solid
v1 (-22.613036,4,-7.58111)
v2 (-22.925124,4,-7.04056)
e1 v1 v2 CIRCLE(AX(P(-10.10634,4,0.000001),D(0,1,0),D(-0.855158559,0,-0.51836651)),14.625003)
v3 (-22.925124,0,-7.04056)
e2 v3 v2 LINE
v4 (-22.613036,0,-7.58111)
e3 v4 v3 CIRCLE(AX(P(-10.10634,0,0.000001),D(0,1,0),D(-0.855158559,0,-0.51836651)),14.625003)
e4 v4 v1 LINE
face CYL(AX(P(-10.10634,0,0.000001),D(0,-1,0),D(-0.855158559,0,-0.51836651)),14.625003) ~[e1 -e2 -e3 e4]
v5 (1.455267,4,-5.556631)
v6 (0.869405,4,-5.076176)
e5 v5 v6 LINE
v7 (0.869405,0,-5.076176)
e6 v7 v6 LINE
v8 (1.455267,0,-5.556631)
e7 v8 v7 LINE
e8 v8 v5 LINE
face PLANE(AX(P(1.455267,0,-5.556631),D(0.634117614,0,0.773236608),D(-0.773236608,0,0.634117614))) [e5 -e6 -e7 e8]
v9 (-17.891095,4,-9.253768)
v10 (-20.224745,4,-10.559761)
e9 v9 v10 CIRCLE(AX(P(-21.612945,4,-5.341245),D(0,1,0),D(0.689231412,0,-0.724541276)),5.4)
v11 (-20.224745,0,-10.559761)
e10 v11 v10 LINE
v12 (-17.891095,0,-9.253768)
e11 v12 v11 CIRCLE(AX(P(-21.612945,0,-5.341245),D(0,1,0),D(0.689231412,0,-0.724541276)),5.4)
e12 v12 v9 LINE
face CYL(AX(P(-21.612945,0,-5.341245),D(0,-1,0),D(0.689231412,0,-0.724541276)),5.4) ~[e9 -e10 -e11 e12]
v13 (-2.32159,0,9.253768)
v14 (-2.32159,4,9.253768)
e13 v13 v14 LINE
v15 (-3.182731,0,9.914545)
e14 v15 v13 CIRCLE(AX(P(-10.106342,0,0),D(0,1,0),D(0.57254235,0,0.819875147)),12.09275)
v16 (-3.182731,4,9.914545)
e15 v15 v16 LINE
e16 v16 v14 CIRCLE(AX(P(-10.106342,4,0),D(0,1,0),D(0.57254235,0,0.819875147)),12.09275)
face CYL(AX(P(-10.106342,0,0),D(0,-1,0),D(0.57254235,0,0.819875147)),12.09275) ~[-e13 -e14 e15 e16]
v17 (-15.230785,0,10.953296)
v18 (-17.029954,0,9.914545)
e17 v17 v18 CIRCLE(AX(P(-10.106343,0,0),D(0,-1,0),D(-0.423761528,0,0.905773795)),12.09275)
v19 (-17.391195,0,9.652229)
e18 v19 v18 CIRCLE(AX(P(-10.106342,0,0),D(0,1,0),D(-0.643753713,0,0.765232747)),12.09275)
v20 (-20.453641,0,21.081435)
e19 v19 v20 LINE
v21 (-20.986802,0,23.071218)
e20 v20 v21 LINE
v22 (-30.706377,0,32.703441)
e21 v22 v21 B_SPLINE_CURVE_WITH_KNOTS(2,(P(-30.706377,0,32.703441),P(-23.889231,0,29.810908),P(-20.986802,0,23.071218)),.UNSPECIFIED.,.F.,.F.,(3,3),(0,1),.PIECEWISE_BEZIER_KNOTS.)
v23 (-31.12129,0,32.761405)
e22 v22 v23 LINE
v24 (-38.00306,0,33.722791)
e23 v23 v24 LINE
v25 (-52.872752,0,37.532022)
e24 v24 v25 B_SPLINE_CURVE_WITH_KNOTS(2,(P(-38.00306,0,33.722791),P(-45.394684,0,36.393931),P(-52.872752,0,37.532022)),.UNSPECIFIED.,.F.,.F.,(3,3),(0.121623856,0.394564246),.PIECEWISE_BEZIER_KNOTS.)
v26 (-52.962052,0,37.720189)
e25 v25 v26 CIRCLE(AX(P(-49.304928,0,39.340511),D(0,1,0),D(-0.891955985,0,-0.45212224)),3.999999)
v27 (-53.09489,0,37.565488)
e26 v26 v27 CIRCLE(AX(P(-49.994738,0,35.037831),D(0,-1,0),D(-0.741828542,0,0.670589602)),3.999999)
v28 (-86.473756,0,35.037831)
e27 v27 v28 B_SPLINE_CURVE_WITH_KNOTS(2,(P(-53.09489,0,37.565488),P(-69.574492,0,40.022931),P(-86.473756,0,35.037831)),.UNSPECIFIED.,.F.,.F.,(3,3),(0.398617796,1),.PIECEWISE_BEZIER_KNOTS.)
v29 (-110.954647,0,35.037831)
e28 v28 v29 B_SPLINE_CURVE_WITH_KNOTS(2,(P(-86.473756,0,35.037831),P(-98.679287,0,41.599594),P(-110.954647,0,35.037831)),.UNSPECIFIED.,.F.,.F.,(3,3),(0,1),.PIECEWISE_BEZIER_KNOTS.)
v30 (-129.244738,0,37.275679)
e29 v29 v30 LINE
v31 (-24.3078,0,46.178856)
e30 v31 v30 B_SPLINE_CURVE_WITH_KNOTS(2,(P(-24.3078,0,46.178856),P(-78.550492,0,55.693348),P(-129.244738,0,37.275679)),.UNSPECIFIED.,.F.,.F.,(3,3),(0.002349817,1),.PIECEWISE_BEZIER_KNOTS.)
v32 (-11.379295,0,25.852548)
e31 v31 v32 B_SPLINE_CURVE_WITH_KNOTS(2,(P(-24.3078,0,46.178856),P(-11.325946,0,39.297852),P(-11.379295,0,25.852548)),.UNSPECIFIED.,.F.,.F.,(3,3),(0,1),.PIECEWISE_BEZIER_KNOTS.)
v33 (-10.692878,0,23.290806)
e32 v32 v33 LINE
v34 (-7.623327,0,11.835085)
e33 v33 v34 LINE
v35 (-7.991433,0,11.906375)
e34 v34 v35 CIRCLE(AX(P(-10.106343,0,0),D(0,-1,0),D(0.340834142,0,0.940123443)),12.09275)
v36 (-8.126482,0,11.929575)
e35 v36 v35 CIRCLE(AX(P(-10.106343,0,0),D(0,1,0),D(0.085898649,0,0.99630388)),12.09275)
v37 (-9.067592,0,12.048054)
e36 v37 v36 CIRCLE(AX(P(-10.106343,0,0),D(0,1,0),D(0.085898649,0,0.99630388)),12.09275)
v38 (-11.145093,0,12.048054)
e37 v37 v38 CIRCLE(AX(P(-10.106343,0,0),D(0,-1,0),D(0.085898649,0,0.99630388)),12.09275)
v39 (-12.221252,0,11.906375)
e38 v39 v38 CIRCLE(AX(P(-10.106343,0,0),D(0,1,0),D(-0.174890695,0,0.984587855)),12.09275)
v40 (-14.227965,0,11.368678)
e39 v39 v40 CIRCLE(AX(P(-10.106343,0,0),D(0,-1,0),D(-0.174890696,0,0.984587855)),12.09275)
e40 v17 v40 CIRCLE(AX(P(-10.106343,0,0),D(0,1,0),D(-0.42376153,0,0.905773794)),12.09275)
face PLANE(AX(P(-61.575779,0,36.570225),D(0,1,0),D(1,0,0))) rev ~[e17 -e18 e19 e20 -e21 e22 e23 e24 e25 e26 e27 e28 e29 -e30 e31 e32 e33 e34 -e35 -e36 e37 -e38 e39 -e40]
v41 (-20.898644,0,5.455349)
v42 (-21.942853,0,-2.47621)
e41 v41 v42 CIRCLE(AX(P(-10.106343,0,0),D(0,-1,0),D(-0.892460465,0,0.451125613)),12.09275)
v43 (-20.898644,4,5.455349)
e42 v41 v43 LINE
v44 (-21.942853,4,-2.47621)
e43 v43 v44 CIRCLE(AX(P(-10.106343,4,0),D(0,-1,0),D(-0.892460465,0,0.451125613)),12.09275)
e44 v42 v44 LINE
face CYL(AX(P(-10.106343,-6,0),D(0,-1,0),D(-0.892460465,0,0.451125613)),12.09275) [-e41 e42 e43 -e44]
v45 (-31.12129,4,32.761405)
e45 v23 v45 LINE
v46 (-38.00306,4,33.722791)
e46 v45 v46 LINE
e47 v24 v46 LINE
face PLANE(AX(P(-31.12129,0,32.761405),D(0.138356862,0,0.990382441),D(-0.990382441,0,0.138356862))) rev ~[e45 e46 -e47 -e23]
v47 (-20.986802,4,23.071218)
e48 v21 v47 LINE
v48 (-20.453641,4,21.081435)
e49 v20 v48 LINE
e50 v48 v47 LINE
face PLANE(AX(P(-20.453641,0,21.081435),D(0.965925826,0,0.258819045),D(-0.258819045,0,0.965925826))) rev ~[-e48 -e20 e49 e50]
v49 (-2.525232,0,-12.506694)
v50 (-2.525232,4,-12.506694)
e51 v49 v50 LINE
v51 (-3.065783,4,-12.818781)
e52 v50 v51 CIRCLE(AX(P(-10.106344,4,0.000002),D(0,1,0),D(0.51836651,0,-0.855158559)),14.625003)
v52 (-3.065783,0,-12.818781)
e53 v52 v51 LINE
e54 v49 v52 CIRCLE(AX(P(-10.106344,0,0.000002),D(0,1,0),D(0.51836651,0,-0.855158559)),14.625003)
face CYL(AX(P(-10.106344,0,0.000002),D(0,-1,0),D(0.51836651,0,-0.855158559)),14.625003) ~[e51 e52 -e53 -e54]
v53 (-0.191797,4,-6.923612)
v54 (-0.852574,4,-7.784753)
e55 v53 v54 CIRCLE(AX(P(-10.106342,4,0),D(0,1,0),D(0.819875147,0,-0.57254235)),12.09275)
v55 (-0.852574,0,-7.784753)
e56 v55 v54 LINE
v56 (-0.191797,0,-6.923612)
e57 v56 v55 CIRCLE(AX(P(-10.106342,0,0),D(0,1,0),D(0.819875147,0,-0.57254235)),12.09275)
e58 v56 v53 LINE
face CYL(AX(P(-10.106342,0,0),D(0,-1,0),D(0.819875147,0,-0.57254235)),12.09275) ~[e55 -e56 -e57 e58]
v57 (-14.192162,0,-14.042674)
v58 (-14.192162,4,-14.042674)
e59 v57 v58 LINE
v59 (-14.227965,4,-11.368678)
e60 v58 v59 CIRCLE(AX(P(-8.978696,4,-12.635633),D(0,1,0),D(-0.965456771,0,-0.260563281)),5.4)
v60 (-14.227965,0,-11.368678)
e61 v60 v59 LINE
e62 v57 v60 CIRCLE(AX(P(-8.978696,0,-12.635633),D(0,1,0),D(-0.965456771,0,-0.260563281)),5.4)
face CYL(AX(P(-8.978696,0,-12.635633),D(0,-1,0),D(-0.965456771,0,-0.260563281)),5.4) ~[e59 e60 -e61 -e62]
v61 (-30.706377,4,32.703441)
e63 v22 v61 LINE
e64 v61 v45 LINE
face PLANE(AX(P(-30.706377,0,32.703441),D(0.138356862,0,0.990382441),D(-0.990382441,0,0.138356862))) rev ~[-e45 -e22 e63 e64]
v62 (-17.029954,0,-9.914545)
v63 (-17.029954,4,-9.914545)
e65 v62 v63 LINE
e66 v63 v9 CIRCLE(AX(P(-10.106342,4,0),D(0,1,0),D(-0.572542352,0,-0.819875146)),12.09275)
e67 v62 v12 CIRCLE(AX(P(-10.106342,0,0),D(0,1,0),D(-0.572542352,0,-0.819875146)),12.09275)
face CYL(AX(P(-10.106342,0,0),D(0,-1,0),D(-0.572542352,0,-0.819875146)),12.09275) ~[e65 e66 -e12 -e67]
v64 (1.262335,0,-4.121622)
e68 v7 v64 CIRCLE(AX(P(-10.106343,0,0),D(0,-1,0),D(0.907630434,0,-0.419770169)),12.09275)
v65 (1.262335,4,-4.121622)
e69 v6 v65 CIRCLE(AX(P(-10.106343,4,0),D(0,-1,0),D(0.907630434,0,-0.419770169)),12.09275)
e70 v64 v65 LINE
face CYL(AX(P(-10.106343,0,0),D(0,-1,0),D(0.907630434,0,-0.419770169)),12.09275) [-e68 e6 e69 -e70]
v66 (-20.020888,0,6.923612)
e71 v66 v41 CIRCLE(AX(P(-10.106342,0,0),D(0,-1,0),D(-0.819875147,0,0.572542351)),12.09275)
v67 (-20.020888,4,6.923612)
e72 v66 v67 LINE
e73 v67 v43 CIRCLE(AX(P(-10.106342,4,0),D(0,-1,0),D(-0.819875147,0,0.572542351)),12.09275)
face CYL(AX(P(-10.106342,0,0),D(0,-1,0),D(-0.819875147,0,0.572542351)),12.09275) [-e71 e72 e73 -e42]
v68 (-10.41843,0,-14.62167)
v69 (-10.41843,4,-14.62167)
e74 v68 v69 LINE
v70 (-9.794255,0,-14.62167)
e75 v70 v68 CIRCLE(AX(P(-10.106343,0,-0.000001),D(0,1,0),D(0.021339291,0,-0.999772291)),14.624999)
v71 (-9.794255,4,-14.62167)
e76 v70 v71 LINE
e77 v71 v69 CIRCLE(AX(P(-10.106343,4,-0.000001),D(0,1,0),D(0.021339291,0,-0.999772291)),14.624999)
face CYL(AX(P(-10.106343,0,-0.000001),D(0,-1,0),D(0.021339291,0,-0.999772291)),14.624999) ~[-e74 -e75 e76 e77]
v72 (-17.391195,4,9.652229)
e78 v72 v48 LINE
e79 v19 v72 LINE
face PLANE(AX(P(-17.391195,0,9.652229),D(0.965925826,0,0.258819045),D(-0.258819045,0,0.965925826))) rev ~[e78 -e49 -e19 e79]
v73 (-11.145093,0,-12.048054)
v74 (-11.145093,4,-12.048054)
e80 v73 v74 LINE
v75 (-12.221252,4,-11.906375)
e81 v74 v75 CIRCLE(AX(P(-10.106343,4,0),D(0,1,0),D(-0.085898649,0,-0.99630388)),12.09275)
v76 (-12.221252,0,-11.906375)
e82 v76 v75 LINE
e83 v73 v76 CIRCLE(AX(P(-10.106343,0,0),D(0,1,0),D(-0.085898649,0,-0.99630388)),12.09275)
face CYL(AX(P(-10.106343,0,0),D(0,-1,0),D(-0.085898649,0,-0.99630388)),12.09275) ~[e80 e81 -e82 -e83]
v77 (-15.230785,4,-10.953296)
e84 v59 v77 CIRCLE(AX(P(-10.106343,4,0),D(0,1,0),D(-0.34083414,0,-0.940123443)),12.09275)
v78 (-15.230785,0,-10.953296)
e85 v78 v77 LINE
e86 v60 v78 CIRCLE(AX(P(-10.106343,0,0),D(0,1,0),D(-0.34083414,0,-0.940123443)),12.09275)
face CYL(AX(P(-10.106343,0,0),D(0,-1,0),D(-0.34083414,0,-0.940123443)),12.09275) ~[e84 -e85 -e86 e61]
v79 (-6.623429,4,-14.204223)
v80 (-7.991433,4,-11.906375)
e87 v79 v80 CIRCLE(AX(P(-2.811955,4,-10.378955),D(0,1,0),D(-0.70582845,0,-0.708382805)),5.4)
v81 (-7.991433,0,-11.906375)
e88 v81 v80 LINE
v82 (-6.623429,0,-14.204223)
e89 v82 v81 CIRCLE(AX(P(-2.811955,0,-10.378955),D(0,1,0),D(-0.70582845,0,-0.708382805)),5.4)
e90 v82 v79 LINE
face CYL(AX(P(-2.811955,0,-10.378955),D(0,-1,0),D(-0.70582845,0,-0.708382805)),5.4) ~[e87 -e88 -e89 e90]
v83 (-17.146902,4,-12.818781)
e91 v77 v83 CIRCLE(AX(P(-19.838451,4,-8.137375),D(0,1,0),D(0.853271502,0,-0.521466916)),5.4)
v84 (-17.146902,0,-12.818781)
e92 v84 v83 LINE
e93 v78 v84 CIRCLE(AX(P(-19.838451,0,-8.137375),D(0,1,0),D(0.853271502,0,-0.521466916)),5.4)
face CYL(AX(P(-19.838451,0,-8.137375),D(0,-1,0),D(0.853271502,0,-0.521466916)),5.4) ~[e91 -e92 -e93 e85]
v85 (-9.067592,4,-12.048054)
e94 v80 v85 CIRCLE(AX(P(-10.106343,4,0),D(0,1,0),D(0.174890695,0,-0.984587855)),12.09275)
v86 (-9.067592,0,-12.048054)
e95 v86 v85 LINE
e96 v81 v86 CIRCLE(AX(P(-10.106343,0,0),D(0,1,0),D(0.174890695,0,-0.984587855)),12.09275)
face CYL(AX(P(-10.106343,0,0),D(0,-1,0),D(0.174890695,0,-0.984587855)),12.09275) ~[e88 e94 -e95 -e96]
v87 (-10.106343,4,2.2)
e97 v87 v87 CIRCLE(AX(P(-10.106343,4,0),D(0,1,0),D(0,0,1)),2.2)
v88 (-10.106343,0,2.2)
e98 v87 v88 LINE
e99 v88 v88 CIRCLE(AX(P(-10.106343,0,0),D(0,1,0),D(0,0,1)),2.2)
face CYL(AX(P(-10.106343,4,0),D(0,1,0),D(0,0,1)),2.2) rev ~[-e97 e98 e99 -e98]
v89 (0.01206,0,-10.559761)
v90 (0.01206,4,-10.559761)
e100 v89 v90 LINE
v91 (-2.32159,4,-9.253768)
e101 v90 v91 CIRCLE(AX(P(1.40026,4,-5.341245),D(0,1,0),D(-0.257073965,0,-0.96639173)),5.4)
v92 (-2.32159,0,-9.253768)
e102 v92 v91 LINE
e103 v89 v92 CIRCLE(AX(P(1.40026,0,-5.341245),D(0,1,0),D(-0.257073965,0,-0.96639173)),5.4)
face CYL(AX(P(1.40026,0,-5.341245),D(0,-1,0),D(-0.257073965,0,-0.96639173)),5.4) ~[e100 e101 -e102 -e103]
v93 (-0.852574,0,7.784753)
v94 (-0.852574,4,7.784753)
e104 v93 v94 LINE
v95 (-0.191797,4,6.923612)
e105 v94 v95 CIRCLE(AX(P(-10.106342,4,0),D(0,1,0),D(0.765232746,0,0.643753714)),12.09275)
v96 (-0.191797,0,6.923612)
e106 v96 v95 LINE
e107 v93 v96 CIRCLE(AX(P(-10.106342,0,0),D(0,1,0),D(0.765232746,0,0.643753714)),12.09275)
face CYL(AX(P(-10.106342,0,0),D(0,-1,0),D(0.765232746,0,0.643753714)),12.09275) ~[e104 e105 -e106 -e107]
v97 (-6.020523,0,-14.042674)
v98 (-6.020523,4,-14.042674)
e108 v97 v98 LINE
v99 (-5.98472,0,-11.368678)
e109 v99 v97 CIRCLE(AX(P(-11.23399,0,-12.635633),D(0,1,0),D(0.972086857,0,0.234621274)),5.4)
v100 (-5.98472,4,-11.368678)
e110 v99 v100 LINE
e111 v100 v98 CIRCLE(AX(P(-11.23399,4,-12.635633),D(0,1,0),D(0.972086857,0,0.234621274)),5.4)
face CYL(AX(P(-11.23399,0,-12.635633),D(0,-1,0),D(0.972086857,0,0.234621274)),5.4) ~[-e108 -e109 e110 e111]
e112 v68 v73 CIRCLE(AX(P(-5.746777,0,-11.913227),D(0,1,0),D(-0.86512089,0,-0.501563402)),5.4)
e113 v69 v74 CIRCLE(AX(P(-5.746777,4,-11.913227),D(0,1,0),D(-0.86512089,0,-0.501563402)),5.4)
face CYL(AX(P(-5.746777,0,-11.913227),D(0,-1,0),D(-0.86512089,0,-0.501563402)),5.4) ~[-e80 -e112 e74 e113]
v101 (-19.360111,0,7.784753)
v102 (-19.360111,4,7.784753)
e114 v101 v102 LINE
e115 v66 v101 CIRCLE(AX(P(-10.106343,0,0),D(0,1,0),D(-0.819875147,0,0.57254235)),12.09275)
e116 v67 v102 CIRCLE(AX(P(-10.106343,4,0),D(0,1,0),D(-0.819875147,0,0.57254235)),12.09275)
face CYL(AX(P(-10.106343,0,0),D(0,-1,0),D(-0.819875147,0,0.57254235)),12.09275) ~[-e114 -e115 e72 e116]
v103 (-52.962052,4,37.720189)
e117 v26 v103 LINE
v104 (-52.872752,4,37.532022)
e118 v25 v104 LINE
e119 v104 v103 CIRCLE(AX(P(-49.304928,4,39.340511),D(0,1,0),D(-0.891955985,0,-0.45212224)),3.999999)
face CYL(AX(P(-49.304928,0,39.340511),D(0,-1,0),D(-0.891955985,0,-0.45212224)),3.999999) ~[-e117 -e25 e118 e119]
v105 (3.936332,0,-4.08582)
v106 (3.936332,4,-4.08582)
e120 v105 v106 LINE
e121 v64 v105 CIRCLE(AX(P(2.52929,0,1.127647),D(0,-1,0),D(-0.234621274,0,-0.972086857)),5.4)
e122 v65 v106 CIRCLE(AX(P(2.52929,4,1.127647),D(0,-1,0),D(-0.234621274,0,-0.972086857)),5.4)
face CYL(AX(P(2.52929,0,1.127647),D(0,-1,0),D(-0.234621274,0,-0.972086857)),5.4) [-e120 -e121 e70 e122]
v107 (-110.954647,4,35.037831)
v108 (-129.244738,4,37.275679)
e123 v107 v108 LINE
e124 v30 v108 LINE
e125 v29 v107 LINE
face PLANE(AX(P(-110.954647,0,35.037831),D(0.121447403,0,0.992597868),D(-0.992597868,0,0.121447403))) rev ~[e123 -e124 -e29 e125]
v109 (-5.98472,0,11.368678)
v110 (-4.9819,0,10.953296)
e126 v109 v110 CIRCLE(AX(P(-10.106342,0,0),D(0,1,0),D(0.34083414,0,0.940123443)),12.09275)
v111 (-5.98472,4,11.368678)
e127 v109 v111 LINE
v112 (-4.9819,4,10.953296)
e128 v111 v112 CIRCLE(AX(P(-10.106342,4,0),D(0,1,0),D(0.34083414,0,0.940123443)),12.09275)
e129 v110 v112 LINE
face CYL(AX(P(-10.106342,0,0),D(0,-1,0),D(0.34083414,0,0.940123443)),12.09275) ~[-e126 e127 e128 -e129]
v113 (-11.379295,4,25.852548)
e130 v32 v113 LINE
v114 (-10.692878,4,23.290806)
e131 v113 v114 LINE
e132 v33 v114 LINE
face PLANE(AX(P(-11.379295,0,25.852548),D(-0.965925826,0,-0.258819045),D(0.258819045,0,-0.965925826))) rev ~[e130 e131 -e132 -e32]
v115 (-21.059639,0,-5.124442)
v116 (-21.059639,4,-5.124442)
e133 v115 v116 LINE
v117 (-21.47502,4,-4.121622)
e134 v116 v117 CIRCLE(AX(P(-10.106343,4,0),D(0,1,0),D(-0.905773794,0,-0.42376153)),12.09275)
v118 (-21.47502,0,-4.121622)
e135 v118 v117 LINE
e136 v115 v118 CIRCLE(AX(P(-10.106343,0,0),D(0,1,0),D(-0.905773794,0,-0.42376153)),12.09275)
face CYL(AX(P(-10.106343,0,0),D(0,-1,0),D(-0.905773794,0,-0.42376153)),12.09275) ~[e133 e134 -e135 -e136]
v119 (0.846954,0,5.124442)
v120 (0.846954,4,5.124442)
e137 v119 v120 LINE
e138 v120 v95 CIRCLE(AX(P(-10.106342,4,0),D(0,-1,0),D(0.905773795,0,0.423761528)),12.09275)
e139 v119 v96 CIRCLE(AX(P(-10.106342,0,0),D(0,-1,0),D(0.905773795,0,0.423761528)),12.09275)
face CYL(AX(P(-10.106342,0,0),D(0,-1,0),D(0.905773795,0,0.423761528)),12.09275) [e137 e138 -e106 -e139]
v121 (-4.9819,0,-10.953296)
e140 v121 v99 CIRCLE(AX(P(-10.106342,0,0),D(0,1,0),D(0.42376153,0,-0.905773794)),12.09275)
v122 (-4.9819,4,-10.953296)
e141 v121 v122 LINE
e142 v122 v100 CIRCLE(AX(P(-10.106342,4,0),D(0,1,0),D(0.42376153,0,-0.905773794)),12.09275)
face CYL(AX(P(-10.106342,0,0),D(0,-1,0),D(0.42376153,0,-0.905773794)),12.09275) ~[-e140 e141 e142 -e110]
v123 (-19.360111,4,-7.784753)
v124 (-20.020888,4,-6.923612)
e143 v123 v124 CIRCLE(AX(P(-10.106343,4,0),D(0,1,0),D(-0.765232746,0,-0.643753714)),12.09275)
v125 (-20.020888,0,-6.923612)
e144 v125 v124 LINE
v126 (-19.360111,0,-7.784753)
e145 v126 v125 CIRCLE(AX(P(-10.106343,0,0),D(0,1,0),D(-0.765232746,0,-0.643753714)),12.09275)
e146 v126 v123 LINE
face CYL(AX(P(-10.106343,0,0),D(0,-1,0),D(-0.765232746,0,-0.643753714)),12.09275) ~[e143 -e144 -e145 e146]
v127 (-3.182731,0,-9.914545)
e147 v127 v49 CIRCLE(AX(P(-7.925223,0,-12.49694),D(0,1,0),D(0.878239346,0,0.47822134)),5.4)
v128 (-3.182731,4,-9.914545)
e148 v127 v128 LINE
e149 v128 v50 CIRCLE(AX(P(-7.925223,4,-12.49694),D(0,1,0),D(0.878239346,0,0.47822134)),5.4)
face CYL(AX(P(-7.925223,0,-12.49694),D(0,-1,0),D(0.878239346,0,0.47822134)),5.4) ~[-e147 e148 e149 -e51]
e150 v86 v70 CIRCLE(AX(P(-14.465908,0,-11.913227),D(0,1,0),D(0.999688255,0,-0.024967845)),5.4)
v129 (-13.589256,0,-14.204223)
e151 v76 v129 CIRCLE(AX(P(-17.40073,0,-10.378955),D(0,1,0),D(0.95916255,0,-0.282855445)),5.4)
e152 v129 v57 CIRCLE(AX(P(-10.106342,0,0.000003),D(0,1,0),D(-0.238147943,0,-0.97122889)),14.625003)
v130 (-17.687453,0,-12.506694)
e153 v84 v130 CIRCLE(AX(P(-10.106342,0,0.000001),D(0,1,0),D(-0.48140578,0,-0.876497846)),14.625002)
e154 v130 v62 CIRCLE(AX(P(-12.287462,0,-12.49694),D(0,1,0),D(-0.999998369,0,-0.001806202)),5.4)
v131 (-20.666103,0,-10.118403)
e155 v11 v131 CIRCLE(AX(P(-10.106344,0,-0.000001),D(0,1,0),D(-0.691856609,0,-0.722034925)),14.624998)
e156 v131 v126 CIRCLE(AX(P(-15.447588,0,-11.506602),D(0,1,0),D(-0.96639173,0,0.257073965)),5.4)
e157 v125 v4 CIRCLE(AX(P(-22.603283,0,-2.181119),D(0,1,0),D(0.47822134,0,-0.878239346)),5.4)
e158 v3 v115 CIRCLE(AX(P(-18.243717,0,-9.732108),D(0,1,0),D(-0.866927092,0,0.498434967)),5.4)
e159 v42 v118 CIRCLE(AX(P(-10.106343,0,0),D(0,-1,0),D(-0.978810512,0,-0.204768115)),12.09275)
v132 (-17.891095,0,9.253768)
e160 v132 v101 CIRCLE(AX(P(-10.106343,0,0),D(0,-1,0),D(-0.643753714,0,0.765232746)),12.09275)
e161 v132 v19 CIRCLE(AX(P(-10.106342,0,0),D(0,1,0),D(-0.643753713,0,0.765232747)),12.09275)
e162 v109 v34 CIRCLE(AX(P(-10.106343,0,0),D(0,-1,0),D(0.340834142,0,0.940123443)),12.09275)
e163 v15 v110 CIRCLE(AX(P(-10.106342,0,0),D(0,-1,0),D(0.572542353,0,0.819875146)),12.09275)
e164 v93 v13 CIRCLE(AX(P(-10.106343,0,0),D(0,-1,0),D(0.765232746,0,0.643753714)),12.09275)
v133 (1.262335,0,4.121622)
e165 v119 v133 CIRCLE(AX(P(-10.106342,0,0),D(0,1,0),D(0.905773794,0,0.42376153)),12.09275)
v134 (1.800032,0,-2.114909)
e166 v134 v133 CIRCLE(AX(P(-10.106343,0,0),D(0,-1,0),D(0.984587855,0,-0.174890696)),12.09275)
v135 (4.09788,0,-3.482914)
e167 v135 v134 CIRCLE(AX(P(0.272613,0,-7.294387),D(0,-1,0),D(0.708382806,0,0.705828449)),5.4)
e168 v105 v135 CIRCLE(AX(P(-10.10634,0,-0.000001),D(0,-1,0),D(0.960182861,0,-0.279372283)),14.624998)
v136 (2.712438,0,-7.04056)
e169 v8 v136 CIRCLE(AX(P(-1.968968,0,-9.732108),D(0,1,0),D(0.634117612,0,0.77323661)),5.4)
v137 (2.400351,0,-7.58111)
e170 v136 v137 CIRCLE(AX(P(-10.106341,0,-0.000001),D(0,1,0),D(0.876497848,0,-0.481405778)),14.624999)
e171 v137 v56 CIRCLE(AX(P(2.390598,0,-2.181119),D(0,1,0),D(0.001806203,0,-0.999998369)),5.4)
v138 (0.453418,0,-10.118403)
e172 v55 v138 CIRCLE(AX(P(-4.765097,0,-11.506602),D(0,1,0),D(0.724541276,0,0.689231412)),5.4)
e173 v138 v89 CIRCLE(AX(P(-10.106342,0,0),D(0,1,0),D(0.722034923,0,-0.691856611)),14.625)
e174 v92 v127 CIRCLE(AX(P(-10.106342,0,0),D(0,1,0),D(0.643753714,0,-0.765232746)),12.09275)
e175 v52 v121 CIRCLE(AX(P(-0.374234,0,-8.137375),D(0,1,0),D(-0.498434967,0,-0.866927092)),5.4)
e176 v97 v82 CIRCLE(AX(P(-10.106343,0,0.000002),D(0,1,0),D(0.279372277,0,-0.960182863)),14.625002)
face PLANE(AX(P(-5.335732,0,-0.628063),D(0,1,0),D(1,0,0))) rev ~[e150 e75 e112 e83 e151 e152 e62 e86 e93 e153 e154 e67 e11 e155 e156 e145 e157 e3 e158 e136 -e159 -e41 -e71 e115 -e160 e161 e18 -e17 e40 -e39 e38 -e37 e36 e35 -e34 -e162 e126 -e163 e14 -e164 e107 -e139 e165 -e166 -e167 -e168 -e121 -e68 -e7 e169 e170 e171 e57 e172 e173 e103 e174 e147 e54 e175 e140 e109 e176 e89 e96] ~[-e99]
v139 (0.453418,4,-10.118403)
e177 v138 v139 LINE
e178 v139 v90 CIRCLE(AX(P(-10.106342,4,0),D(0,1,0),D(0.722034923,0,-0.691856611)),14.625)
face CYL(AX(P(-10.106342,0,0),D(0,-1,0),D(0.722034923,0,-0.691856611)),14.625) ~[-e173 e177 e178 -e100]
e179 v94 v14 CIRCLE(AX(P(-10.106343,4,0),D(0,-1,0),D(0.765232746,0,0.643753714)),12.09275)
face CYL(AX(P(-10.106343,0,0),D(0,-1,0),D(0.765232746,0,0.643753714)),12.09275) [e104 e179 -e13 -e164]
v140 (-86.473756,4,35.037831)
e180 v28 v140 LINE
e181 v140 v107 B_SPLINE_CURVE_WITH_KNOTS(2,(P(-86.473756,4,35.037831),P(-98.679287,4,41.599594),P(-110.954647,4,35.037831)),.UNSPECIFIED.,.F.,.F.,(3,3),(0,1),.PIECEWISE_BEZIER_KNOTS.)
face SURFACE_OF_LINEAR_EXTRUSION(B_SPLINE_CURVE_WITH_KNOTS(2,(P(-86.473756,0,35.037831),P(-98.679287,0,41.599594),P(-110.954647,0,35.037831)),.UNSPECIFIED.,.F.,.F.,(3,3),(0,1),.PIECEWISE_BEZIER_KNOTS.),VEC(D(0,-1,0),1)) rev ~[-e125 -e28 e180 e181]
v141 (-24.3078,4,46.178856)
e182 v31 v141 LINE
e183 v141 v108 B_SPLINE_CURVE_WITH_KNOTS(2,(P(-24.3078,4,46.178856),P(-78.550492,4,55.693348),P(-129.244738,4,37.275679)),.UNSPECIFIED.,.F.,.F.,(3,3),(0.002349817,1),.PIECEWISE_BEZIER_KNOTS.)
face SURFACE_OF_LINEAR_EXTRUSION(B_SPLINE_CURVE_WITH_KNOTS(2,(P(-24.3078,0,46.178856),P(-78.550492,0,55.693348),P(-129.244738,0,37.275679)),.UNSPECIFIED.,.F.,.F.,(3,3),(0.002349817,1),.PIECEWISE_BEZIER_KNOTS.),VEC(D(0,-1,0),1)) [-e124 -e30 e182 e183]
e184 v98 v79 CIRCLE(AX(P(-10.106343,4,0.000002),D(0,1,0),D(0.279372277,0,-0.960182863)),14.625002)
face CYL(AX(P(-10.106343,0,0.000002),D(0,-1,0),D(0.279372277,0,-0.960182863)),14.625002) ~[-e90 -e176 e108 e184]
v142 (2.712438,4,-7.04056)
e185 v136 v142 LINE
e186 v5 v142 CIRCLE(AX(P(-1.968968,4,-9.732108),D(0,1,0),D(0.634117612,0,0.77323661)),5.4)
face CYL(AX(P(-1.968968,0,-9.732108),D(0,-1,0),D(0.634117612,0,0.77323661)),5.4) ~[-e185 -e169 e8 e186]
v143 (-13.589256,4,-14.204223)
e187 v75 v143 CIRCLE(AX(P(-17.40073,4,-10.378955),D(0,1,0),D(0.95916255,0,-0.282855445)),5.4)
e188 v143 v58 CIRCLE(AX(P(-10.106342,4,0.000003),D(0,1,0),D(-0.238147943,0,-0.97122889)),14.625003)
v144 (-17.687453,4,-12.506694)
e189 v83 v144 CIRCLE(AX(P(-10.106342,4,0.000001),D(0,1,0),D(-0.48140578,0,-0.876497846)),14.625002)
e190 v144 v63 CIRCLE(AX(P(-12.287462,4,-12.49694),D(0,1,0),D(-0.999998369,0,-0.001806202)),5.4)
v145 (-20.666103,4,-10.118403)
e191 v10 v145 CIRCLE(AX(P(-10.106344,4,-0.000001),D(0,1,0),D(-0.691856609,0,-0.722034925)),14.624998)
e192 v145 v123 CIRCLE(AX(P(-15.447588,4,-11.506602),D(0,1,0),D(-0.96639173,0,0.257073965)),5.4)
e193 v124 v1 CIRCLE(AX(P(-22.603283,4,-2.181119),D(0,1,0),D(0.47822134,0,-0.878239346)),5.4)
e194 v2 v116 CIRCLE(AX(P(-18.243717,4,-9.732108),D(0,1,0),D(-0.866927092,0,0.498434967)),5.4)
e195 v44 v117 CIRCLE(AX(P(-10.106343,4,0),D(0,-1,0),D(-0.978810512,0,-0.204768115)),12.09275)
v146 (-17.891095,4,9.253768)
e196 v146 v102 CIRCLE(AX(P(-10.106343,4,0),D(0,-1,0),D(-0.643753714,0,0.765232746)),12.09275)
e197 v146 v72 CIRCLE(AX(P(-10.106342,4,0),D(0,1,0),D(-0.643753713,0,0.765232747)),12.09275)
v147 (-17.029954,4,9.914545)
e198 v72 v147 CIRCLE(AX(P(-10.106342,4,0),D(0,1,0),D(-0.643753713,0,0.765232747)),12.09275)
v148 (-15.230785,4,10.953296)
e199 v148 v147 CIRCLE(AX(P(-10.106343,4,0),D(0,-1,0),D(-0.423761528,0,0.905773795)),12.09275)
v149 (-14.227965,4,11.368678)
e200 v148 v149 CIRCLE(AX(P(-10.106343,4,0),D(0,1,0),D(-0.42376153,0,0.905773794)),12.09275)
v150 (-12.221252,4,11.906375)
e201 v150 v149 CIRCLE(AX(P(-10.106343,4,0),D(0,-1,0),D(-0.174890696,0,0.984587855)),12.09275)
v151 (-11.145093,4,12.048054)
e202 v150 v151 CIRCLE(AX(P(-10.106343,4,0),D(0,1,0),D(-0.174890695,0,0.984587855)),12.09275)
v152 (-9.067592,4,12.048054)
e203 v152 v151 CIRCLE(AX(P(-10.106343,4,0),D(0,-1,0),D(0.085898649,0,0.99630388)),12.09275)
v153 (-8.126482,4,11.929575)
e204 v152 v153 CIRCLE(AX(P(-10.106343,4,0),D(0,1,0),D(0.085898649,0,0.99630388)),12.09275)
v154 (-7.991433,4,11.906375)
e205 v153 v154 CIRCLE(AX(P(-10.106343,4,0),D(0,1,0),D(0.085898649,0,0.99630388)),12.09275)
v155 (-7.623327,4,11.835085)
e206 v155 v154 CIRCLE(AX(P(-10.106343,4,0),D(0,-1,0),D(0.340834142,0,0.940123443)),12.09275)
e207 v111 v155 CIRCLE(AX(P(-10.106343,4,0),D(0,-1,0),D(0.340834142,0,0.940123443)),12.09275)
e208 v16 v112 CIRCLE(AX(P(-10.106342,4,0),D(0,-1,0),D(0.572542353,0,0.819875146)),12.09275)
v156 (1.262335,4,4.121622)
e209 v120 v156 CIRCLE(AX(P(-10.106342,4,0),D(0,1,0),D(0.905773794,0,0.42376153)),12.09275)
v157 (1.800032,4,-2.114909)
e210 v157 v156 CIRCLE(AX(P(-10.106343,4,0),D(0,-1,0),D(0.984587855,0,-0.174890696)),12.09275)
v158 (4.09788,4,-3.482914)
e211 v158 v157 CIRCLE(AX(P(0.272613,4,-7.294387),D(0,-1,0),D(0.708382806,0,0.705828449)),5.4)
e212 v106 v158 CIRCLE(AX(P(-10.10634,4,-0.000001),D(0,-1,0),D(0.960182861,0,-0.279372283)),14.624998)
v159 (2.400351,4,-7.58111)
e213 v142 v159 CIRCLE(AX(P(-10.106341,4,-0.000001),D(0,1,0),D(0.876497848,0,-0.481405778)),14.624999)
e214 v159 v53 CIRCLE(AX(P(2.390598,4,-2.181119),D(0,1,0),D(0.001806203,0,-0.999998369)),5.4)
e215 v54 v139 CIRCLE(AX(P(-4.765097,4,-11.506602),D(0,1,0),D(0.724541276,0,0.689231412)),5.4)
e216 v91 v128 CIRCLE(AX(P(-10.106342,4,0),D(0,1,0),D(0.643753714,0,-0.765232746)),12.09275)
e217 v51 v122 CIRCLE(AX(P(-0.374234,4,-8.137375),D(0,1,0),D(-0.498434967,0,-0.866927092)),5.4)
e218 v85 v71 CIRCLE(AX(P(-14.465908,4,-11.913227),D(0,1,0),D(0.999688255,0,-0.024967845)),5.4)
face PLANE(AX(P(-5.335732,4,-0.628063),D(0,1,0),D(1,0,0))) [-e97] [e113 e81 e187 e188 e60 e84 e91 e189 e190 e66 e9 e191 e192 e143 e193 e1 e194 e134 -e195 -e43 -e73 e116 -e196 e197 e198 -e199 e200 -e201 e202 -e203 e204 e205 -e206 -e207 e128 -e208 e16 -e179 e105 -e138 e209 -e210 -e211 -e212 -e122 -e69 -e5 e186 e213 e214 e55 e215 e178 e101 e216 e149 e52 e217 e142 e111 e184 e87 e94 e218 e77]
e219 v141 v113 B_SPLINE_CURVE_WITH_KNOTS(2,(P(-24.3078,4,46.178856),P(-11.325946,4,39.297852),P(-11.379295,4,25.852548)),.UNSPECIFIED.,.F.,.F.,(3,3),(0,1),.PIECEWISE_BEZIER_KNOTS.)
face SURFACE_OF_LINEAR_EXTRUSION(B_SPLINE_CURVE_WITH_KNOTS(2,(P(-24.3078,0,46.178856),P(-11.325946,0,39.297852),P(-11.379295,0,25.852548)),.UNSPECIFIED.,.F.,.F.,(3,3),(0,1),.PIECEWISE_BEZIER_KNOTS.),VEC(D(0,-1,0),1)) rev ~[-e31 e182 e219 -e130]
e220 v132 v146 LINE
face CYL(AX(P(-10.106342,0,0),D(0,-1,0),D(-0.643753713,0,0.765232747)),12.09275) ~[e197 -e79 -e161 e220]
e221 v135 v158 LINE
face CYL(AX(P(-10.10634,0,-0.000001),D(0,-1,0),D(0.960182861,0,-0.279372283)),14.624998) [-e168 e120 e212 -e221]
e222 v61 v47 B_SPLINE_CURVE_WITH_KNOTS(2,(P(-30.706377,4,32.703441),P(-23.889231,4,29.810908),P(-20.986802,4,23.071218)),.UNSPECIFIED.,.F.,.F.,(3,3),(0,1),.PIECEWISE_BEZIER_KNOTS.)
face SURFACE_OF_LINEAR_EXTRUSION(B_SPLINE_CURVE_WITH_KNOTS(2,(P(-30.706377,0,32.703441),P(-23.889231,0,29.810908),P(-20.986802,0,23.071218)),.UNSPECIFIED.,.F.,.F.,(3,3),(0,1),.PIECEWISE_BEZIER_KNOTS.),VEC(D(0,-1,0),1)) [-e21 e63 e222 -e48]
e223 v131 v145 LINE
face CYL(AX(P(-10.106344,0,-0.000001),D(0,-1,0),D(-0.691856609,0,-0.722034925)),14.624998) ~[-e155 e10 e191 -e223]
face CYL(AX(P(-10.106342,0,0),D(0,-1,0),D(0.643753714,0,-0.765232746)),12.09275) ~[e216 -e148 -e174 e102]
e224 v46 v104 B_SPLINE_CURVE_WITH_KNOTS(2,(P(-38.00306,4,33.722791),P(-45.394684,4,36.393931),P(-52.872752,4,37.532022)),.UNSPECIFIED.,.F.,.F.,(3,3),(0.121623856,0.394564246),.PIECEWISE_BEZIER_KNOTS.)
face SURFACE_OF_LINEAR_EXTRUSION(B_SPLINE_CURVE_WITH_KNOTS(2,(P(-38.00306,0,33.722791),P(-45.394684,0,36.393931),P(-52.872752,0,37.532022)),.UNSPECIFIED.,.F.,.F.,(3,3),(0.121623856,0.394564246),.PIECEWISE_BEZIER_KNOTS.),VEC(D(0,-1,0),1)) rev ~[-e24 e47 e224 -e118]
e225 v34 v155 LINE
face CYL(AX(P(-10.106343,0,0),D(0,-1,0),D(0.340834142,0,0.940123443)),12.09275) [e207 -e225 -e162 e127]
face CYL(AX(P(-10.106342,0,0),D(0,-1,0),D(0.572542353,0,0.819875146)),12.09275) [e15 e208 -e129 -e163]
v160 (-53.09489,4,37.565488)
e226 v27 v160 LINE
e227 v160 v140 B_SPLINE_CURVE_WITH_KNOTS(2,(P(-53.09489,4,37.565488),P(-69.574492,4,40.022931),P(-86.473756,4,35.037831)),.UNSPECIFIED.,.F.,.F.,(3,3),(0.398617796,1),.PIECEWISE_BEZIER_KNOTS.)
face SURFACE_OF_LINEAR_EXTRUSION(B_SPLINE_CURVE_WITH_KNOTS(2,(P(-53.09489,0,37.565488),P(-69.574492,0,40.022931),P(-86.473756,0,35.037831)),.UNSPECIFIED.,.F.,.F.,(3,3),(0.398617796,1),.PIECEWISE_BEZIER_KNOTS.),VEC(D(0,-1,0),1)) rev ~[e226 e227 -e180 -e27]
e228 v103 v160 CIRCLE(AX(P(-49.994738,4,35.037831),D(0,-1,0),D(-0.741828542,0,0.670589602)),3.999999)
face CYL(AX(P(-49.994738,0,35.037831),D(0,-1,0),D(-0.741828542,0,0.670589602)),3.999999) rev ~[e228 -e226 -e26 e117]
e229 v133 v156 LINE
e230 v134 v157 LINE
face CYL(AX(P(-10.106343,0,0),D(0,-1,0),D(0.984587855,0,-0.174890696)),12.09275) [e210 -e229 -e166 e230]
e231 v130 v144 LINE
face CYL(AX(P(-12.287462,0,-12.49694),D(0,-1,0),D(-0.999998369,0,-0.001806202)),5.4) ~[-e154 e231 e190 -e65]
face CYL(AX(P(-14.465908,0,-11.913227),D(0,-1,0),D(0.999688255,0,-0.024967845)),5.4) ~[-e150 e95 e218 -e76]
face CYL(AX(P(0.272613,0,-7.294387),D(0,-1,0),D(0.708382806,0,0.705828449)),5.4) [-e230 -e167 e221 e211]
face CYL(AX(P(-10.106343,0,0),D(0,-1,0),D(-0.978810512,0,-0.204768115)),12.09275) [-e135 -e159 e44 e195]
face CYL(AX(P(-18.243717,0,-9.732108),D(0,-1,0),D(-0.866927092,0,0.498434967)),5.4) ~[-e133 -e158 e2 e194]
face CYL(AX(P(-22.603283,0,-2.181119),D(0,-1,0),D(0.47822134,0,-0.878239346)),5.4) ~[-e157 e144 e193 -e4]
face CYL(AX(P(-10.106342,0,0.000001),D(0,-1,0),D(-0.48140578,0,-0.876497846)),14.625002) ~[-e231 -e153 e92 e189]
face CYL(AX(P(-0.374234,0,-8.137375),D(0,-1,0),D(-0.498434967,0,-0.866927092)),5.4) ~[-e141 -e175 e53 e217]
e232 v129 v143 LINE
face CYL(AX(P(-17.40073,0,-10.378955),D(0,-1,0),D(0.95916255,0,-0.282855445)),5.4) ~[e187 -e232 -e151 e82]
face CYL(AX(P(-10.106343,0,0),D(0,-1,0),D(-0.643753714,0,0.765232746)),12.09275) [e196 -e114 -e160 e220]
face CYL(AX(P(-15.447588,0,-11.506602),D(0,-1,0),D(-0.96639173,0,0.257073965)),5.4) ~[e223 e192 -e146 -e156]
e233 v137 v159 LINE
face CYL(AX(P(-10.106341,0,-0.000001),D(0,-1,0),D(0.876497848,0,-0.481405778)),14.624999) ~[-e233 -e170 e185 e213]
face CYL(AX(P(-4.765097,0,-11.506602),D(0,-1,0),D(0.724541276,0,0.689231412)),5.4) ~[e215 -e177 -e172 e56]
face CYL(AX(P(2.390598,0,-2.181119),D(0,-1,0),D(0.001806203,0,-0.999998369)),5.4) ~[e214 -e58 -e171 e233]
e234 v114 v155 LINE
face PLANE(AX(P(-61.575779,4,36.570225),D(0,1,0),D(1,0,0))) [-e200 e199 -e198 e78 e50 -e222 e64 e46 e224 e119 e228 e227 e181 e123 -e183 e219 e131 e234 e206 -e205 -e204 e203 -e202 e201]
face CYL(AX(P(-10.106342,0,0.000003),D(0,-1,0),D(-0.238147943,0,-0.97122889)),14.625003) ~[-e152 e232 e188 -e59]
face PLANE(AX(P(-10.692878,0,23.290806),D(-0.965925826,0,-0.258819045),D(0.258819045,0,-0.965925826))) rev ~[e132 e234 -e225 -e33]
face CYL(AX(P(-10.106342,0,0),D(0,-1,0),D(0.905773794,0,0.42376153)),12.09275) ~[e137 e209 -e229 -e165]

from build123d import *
from build123d.topology import SkipClean

# Parameters (mm, degrees)
SKETCH1_R           = 1.5
BOSS_EXTRUDE1_DEPTH = 4
SKETCH3_R           = 1.75
BOSS_EXTRUDE2_DEPTH = 4
CUT_EXTRUDE1_START  = -4
CUT_EXTRUDE1_DEPTH  = 4
CUT_EXTRUDE2_REACH  = 49.1
SKETCH5_R           = 2.2
BOSS_EXTRUDE3_START = -4
BOSS_EXTRUDE3_DEPTH = 4
CUT_EXTRUDE3_START  = -10
SKETCH6_3_R         = 1.75
CUT_EXTRUDE3_DEPTH  = 10


with BuildPart() as part:
    # Sketch1 → Boss-Extrude1 (new body)
    with BuildSketch(Plane(origin=(0, 0, 0), x_dir=(1, 0, 0), z_dir=(0, 1, 0))):
        with BuildLine():
            Line((19.858482165, 7.979459856), (1.45526727, 5.556630652))
            ThreePointArc((1.45526727, 5.556630652), (2.151210177, 6.241530576), (2.71243846, 7.040559518))
            ThreePointArc((2.71243846, 7.040559518), (2.559278977, 7.3125), (2.400351352, 7.581110245))
            ThreePointArc((2.400351352, 7.581110245), (1.062931662, 7.415362311), (-0.19179738, 6.923611525))
            ThreePointArc((-0.19179738, 6.923611525), (-0.512518948, 7.361599771), (-0.852574256, 7.784752716))
            ThreePointArc((-0.852574256, 7.784752716), (-0.0528317, 8.869453434), (0.453418198, 10.118402931))
            ThreePointArc((0.453418198, 10.118402931), (0.235094121, 10.341436675), (0.012060377, 10.559760751))
            ThreePointArc((0.012060377, 10.559760751), (-1.23688912, 10.053510854), (-2.321589838, 9.253768298))
            ThreePointArc((-2.321589838, 9.253768298), (-2.744742783, 9.593823606), (-3.182731029, 9.914545174))
            ThreePointArc((-3.182731029, 9.914545174), (-2.690980243, 11.169274216), (-2.525232309, 12.506693906))
            ThreePointArc((-2.525232309, 12.506693906), (-2.793842554, 12.66562153), (-3.065783036, 12.818781014))
            ThreePointArc((-3.065783036, 12.818781014), (-4.141148496, 12.006529247), (-4.981900329, 10.953296054))
            ThreePointArc((-4.981900329, 10.953296054), (-5.478647477, 11.172244217), (-5.984720485, 11.368677763))
            ThreePointArc((-5.984720485, 11.368677763), (-5.834473474, 12.707927419), (-6.020522951, 14.04267436))
            ThreePointArc((-6.020522951, 14.04267436), (-6.321114019, 14.126665209), (-6.623428946, 14.204222534))
            ThreePointArc((-6.623428946, 14.204222534), (-7.451925989, 13.141322514), (-7.991433089, 11.906374785))
            ThreePointArc((-7.991433089, 11.906374785), (-8.527921943, 11.989294847), (-9.067591674, 12.04805375))
            ThreePointArc((-9.067591674, 12.04805375), (-9.269087523, 13.380556368), (-9.794255446, 14.621669762))
            ThreePointArc((-9.794255446, 14.621669762), (-10.106342554, 14.625), (-10.418429662, 14.621669762))
            ThreePointArc((-10.418429662, 14.621669762), (-10.943597585, 13.380556368), (-11.145093433, 12.04805375))
            ThreePointArc((-11.145093433, 12.04805375), (-11.684763165, 11.989294847), (-12.221252019, 11.906374785))
            ThreePointArc((-12.221252019, 11.906374785), (-12.760759118, 13.141322514), (-13.589256162, 14.204222534))
            ThreePointArc((-13.589256162, 14.204222534), (-13.891571088, 14.126665209), (-14.192162157, 14.04267436))
            ThreePointArc((-14.192162157, 14.04267436), (-14.378211634, 12.707927419), (-14.227964623, 11.368677763))
            ThreePointArc((-14.227964623, 11.368677763), (-14.734037631, 11.172244217), (-15.230784779, 10.953296054))
            ThreePointArc((-15.230784779, 10.953296054), (-16.071536612, 12.006529247), (-17.146902071, 12.818781014))
            ThreePointArc((-17.146902071, 12.818781014), (-17.418842554, 12.66562153), (-17.687452799, 12.506693906))
            ThreePointArc((-17.687452799, 12.506693906), (-17.521704864, 11.169274216), (-17.029954079, 9.914545174))
            ThreePointArc((-17.029954079, 9.914545174), (-17.467942324, 9.593823606), (-17.89109527, 9.253768298))
            ThreePointArc((-17.89109527, 9.253768298), (-18.975795988, 10.053510854), (-20.224745485, 10.559760751))
            ThreePointArc((-20.224745485, 10.559760751), (-20.447779229, 10.341436675), (-20.666103305, 10.118402931))
            ThreePointArc((-20.666103305, 10.118402931), (-20.159853408, 8.869453434), (-19.360110852, 7.784752716))
            ThreePointArc((-19.360110852, 7.784752716), (-19.70016616, 7.361599771), (-20.020887728, 6.923611525))
            ThreePointArc((-20.020887728, 6.923611525), (-21.27561677, 7.415362311), (-22.61303646, 7.581110245))
            ThreePointArc((-22.61303646, 7.581110245), (-22.771964084, 7.3125), (-22.925123568, 7.040559518))
            ThreePointArc((-22.925123568, 7.040559518), (-22.112871801, 5.965194058), (-21.059638608, 5.124442225))
            ThreePointArc((-21.059638608, 5.124442225), (-21.278586771, 4.627695077), (-21.475020317, 4.121622069))
            ThreePointArc((-21.475020317, 4.121622069), (-22.814269973, 4.27186908), (-24.149016913, 4.085819603))
            ThreePointArc((-24.149016913, 4.085819603), (-24.233007763, 3.785228535), (-24.310565088, 3.482913608))
            ThreePointArc((-24.310565088, 3.482913608), (-23.247665068, 2.654416564), (-22.012717339, 2.114909465))
            ThreePointArc((-22.012717339, 2.114909465), (-22.095637401, 1.578420611), (-22.154396304, 1.03875088))
            ThreePointArc((-22.154396304, 1.03875088), (-23.486898922, 0.837255031), (-24.728012316, 0.312087108))
            ThreePointArc((-24.728012316, 0.312087108), (-24.731342554, 0), (-24.728012316, -0.312087108))
            ThreePointArc((-24.728012316, -0.312087108), (-23.486898922, -0.837255031), (-22.154396304, -1.03875088))
            ThreePointArc((-22.154396304, -1.03875088), (-22.095637401, -1.578420611), (-22.012717339, -2.114909465))
            ThreePointArc((-22.012717339, -2.114909465), (-23.247665068, -2.654416564), (-24.310565088, -3.482913608))
            ThreePointArc((-24.310565088, -3.482913608), (-24.233007763, -3.785228535), (-24.149016913, -4.085819603))
            ThreePointArc((-24.149016913, -4.085819603), (-22.814269973, -4.27186908), (-21.475020317, -4.121622069))
            ThreePointArc((-21.475020317, -4.121622069), (-21.278586771, -4.627695077), (-21.059638608, -5.124442225))
            ThreePointArc((-21.059638608, -5.124442225), (-22.112871801, -5.965194058), (-22.925123568, -7.040559518))
            ThreePointArc((-22.925123568, -7.040559518), (-22.771964084, -7.3125), (-22.61303646, -7.581110245))
            ThreePointArc((-22.61303646, -7.581110245), (-21.27561677, -7.415362311), (-20.020887728, -6.923611525))
            ThreePointArc((-20.020887728, -6.923611525), (-19.70016616, -7.361599771), (-19.360110852, -7.784752716))
            ThreePointArc((-19.360110852, -7.784752716), (-20.159853408, -8.869453434), (-20.666103305, -10.118402931))
            ThreePointArc((-20.666103305, -10.118402931), (-20.447779229, -10.341436675), (-20.224745485, -10.559760751))
            ThreePointArc((-20.224745485, -10.559760751), (-18.975795988, -10.053510854), (-17.89109527, -9.253768298))
            ThreePointArc((-17.89109527, -9.253768298), (-17.467942324, -9.593823606), (-17.029954079, -9.914545174))
            ThreePointArc((-17.029954079, -9.914545174), (-17.521704864, -11.169274216), (-17.687452799, -12.506693906))
            ThreePointArc((-17.687452799, -12.506693906), (-17.418842554, -12.66562153), (-17.146902071, -12.818781014))
            ThreePointArc((-17.146902071, -12.818781014), (-16.071536612, -12.006529247), (-15.230784779, -10.953296054))
            ThreePointArc((-15.230784779, -10.953296054), (-14.734037631, -11.172244217), (-14.227964623, -11.368677763))
            ThreePointArc((-14.227964623, -11.368677763), (-14.378211634, -12.707927419), (-14.192162157, -14.04267436))
            ThreePointArc((-14.192162157, -14.04267436), (-13.891571088, -14.126665209), (-13.589256162, -14.204222534))
            ThreePointArc((-13.589256162, -14.204222534), (-12.760759118, -13.141322514), (-12.221252019, -11.906374785))
            ThreePointArc((-12.221252019, -11.906374785), (-11.684763165, -11.989294847), (-11.145093433, -12.04805375))
            ThreePointArc((-11.145093433, -12.04805375), (-10.943597585, -13.380556368), (-10.418429662, -14.621669762))
            ThreePointArc((-10.418429662, -14.621669762), (-10.106342554, -14.625), (-9.794255446, -14.621669762))
            ThreePointArc((-9.794255446, -14.621669762), (-9.269087523, -13.380556368), (-9.067591674, -12.04805375))
            ThreePointArc((-9.067591674, -12.04805375), (-8.527921943, -11.989294847), (-7.991433089, -11.906374785))
            ThreePointArc((-7.991433089, -11.906374785), (-7.451925989, -13.141322514), (-6.623428946, -14.204222534))
            ThreePointArc((-6.623428946, -14.204222534), (-6.321114019, -14.126665209), (-6.020522951, -14.04267436))
            ThreePointArc((-6.020522951, -14.04267436), (-5.834473474, -12.707927419), (-5.984720485, -11.368677763))
            ThreePointArc((-5.984720485, -11.368677763), (-5.478647477, -11.172244217), (-4.981900329, -10.953296054))
            ThreePointArc((-4.981900329, -10.953296054), (-4.141148496, -12.006529247), (-3.065783036, -12.818781014))
            ThreePointArc((-3.065783036, -12.818781014), (-2.793842554, -12.66562153), (-2.525232309, -12.506693906))
            ThreePointArc((-2.525232309, -12.506693906), (-2.690980243, -11.169274216), (-3.182731029, -9.914545174))
            ThreePointArc((-3.182731029, -9.914545174), (-2.744742783, -9.593823606), (-2.321589838, -9.253768298))
            ThreePointArc((-2.321589838, -9.253768298), (-1.23688912, -10.053510854), (0.012060377, -10.559760751))
            ThreePointArc((0.012060377, -10.559760751), (0.235094121, -10.341436675), (0.453418198, -10.118402931))
            ThreePointArc((0.453418198, -10.118402931), (-0.0528317, -8.869453434), (-0.852574256, -7.784752716))
            ThreePointArc((-0.852574256, -7.784752716), (-0.512518948, -7.361599771), (-0.19179738, -6.923611525))
            ThreePointArc((-0.19179738, -6.923611525), (1.062931662, -7.415362311), (2.400351352, -7.581110245))
            ThreePointArc((2.400351352, -7.581110245), (2.559278977, -7.3125), (2.71243846, -7.040559518))
            ThreePointArc((2.71243846, -7.040559518), (1.900186694, -5.965194058), (0.8469535, -5.124442225))
            ThreePointArc((0.8469535, -5.124442225), (1.065901663, -4.627695077), (1.262335209, -4.121622069))
            ThreePointArc((1.262335209, -4.121622069), (2.601584865, -4.27186908), (3.936331806, -4.085819603))
            ThreePointArc((3.936331806, -4.085819603), (4.020322656, -3.785228535), (4.09787998, -3.482913608))
            ThreePointArc((4.09787998, -3.482913608), (3.348971179, -2.856367486), (2.499476808, -2.374928239))
            Line((2.499476808, -2.374928239), (20.902691702, 0.047900965))
            ThreePointArc((20.902691702, 0.047900965), (24.346366379, 4.53578518), (19.858482165, 7.979459856))
        make_face()
        with Locations(Location((-10.106342554, 0, 0), (0, 0, 270))):
            Circle(SKETCH1_R, mode=Mode.SUBTRACT)
        with Locations(Location((20.380586933, 4.013680411, 0), (0, 0, 270))):
            Circle(SKETCH1_R, mode=Mode.SUBTRACT)
    extrude(amount=BOSS_EXTRUDE1_DEPTH)

    # Sketch3 → Boss-Extrude2 (add)
    with BuildSketch(Plane(origin=(0, 4, 0), x_dir=(1, 0, 0), z_dir=(0, 1, 0))):
        with BuildLine():
            Line((-10.628447323, 3.965779445), (-41.11537681, -0.047900965))
            ThreePointArc((-41.11537681, -0.047900965), (-44.559051487, -4.53578518), (-40.071167272, -7.979459856))
            Line((-40.071167272, -7.979459856), (-9.584237785, -3.965779445))
            ThreePointArc((-9.584237785, -3.965779445), (-14.072121999, -0.522104769), (-10.628447323, 3.965779445))
        make_face()
        with Locations(Location((-40.593272041, -4.013680411, 0), (0, 0, 270))):
            Circle(SKETCH3_R, mode=Mode.SUBTRACT)
    extrude(amount=-BOSS_EXTRUDE2_DEPTH)

    # Sketch4 → Cut-Extrude1 (cut)
    with SkipClean():  # the faces are left unmerged after this step: merging them gives an invalid solid
        with BuildSketch(Plane(origin=(0, 4, 0), x_dir=(1, 0, 0), z_dir=(0, 1, 0)).offset(CUT_EXTRUDE1_START)):
            with BuildLine():
                ThreePointArc((20.902691702, 0.047900965), (24.346366379, 4.53578518), (19.858482165, 7.979459856))
                Line((19.858482165, 7.979459856), (1.45526727, 5.556630652))
                Line((1.45526727, 5.556630652), (0.869405378, 5.076175716))
                ThreePointArc((0.869405378, 5.076175716), (1.076060277, 4.603093469), (1.262335209, 4.121622069))
                ThreePointArc((1.262335209, 4.121622069), (2.601584865, 4.27186908), (3.936331806, 4.085819603))
                ThreePointArc((3.936331806, 4.085819603), (4.020322656, 3.785228535), (4.09787998, 3.482913608))
                ThreePointArc((4.09787998, 3.482913608), (3.03497996, 2.654416564), (1.800032231, 2.114909465))
                ThreePointArc((1.800032231, 2.114909465), (1.941711197, -1.03875088), (1.262335209, -4.121622069))
                ThreePointArc((1.262335209, -4.121622069), (2.601584865, -4.27186908), (3.936331806, -4.085819603))
                ThreePointArc((3.936331806, -4.085819603), (4.020322656, -3.785228535), (4.09787998, -3.482913608))
                ThreePointArc((4.09787998, -3.482913608), (3.348971179, -2.856367486), (2.499476808, -2.374928239))
                Line((2.499476808, -2.374928239), (20.902691702, 0.047900965))
            make_face()
            with BuildLine():
                ThreePointArc((2.71243846, -7.040559518), (1.900186694, -5.965194058), (0.8469535, -5.124442225))
                ThreePointArc((0.8469535, -5.124442225), (0.366286148, -6.046375), (-0.19179738, -6.923611525))
                ThreePointArc((-0.19179738, -6.923611525), (1.062931662, -7.415362311), (2.400351352, -7.581110245))
                ThreePointArc((2.400351352, -7.581110245), (2.559278977, -7.3125), (2.71243846, -7.040559518))
            make_face()
            with BuildLine():
                ThreePointArc((0.453418198, -10.118402931), (-0.0528317, -8.869453434), (-0.852574256, -7.784752716))
                ThreePointArc((-0.852574256, -7.784752716), (-1.555477026, -8.550865528), (-2.321589838, -9.253768298))
                ThreePointArc((-2.321589838, -9.253768298), (-1.23688912, -10.053510854), (0.012060377, -10.559760751))
                ThreePointArc((0.012060377, -10.559760751), (0.235094121, -10.341436675), (0.453418198, -10.118402931))
            make_face()
            with BuildLine():
                ThreePointArc((-2.525232309, -12.506693906), (-2.690980243, -11.169274216), (-3.182731029, -9.914545174))
                ThreePointArc((-3.182731029, -9.914545174), (-4.059967554, -10.472628702), (-4.981900329, -10.953296054))
                ThreePointArc((-4.981900329, -10.953296054), (-4.141148496, -12.006529247), (-3.065783036, -12.818781014))
                ThreePointArc((-3.065783036, -12.818781014), (-2.793842554, -12.66562153), (-2.525232309, -12.506693906))
            make_face()
            with BuildLine():
                ThreePointArc((-6.020522951, -14.04267436), (-5.834473474, -12.707927419), (-5.984720485, -11.368677763))
                ThreePointArc((-5.984720485, -11.368677763), (-6.976508546, -11.680699536), (-7.991433089, -11.906374785))
                ThreePointArc((-7.991433089, -11.906374785), (-7.451925989, -13.141322514), (-6.623428946, -14.204222534))
                ThreePointArc((-6.623428946, -14.204222534), (-6.321114019, -14.126665209), (-6.020522951, -14.04267436))
            make_face()
            with BuildLine():
                ThreePointArc((-9.794255446, -14.621669762), (-9.269087523, -13.380556368), (-9.067591674, -12.04805375))
                ThreePointArc((-9.067591674, -12.04805375), (-10.106342554, -12.09275), (-11.145093433, -12.04805375))
                ThreePointArc((-11.145093433, -12.04805375), (-10.943597585, -13.380556368), (-10.418429662, -14.621669762))
                ThreePointArc((-10.418429662, -14.621669762), (-10.106342554, -14.625), (-9.794255446, -14.621669762))
            make_face()
            with BuildLine():
                ThreePointArc((-13.589256162, -14.204222534), (-12.760759118, -13.141322514), (-12.221252019, -11.906374785))
                ThreePointArc((-12.221252019, -11.906374785), (-13.236176561, -11.680699536), (-14.227964623, -11.368677763))
                ThreePointArc((-14.227964623, -11.368677763), (-14.378211634, -12.707927419), (-14.192162157, -14.04267436))
                ThreePointArc((-14.192162157, -14.04267436), (-13.891571088, -14.126665209), (-13.589256162, -14.204222534))
            make_face()
            with BuildLine():
                ThreePointArc((-17.146902071, -12.818781014), (-16.071536612, -12.006529247), (-15.230784779, -10.953296054))
                ThreePointArc((-15.230784779, -10.953296054), (-16.152717554, -10.472628702), (-17.029954079, -9.914545174))
                ThreePointArc((-17.029954079, -9.914545174), (-17.521704864, -11.169274216), (-17.687452799, -12.506693906))
                ThreePointArc((-17.687452799, -12.506693906), (-17.418842554, -12.66562153), (-17.146902071, -12.818781014))
            make_face()
            with BuildLine():
                ThreePointArc((-21.942853375, 2.47620963), (-21.738068128, 3.307198622), (-21.475020317, 4.121622069))
                ThreePointArc((-21.475020317, 4.121622069), (-22.814269973, 4.27186908), (-24.149016913, 4.085819603))
                ThreePointArc((-24.149016913, 4.085819603), (-24.233007763, 3.785228535), (-24.310565088, 3.482913608))
                ThreePointArc((-24.310565088, 3.482913608), (-23.561656287, 2.856367486), (-22.712161916, 2.374928239))
                Line((-22.712161916, 2.374928239), (-21.942853375, 2.47620963))
            make_face()
            with BuildLine():
                ThreePointArc((-20.224745485, -10.559760751), (-18.975795988, -10.053510854), (-17.89109527, -9.253768298))
                ThreePointArc((-17.89109527, -9.253768298), (-18.657208082, -8.550865528), (-19.360110852, -7.784752716))
                ThreePointArc((-19.360110852, -7.784752716), (-20.159853408, -8.869453434), (-20.666103305, -10.118402931))
                ThreePointArc((-20.666103305, -10.118402931), (-20.447779229, -10.341436675), (-20.224745485, -10.559760751))
            make_face()
            with BuildLine():
                ThreePointArc((-20.020887728, -6.923611525), (-20.485760701, -6.205020667), (-20.898643838, -5.455349261))
                Line((-20.898643838, -5.455349261), (-21.667952378, -5.556630652))
                ThreePointArc((-21.667952378, -5.556630652), (-22.363895284, -6.241530576), (-22.925123568, -7.040559518))
                ThreePointArc((-22.925123568, -7.040559518), (-22.771964084, -7.3125), (-22.61303646, -7.581110245))
                ThreePointArc((-22.61303646, -7.581110245), (-21.27561677, -7.415362311), (-20.020887728, -6.923611525))
            make_face()
        extrude(amount=CUT_EXTRUDE1_DEPTH, mode=Mode.SUBTRACT)

    # Sketch5 → Cut-Extrude2 (cut, up to next)
    with BuildSketch(Plane(origin=(0, 4, 0), x_dir=(1, 0, 0), z_dir=(0, 1, 0)), mode=Mode.PRIVATE) as cut_extrude2_sk1:
        with Locations(Location((-10.106342554, 0, 0), (0, 0, 270))):
            Circle(SKETCH5_R)
    cut_extrude2_tool1 = extrude(cut_extrude2_sk1.sketch, amount=-CUT_EXTRUDE2_REACH, mode=Mode.PRIVATE) & part.part
    add(cut_extrude2_tool1.solids().sort_by_distance((-10.106343, 4, 0))[0], mode=Mode.SUBTRACT)

    # Sketch6 → Boss-Extrude3 (add)
    with SkipClean():  # the faces are left unmerged after this step: merging them gives an invalid solid
        with BuildSketch(Plane(origin=(0, 4, 0), x_dir=(1, 0, 0), z_dir=(0, 1, 0)).offset(BOSS_EXTRUDE3_START)):
            with BuildLine():
                ThreePointArc((-52.962051912, -37.720188973), (-53.029457116, -37.643685191), (-53.094890456, -37.565488207))
                add(Edge.make_bspline(
                    [(-53.094890456, -37.565488207), (-69.574492007, -40.022931453), (-86.473755851, -35.03783058)],
                    knots=[0.398617796, 0.398617796, 0.398617796, 1, 1, 1], degree=2))
                add(Edge.make_bspline(
                    [(-86.473755851, -35.03783058), (-98.679286779, -41.59959414), (-110.954647006, -35.03783058)],
                    knots=[0, 0, 0, 1, 1, 1], degree=2))
                Line((-110.954647006, -35.03783058), (-129.244737731, -37.275679444))
                add(Edge.make_bspline(
                    [(-24.307799862, -46.178856242), (-78.550492212, -55.693347591), (-129.244737731, -37.275679444)],
                    knots=[0.002349817, 0.002349817, 0.002349817, 1, 1, 1], degree=2))
                add(Edge.make_bspline(
                    [(-24.307799862, -46.178856242), (-11.325946224, -39.297851738), (-11.379295158, -25.85254802)],
                    knots=[0, 0, 0, 1, 1, 1], degree=2))
                Line((-11.379295158, -25.85254802), (-10.692878437, -23.290805939))
                Line((-10.692878437, -23.290805939), (-7.62332727, -11.83508503))
                ThreePointArc((-7.62332727, -11.83508503), (-7.874404331, -11.88499282), (-8.126481564, -11.929574721))
                ThreePointArc((-8.126481564, -11.929574721), (-12.992916327, -11.743180762), (-17.391194669, -9.652229391))
                Line((-17.391194669, -9.652229391), (-20.453641162, -21.0814353))
                Line((-20.453641162, -21.0814353), (-20.986801846, -23.071218061))
                add(Edge.make_bspline(
                    [(-30.706376797, -32.703441208), (-23.88923072, -29.810908187), (-20.986801846, -23.071218061)],
                    knots=[0, 0, 0, 1, 1, 1], degree=2))
                Line((-30.706376797, -32.703441208), (-31.121289752, -32.76140473))
                Line((-31.121289752, -32.76140473), (-38.003060246, -33.722791093))
                add(Edge.make_bspline(
                    [(-38.003060246, -33.722791093), (-45.394684007, -36.393930701), (-52.872751681, -37.532021826)],
                    knots=[0.121623856, 0.121623856, 0.121623856, 0.394564246, 0.394564246, 0.394564246], degree=2))
                ThreePointArc((-52.872751681, -37.532021826), (-52.918626749, -37.625524062), (-52.962051912, -37.720188973))
            make_face()
        extrude(amount=BOSS_EXTRUDE3_DEPTH)

    # Sketch6<3> → Cut-Extrude3 (cut)
    with SkipClean():  # the faces are left unmerged after this step: merging them gives an invalid solid
        with BuildSketch(Plane(origin=(0, 4, 0), x_dir=(1, 0, 0), z_dir=(0, 1, 0)).offset(CUT_EXTRUDE3_START)):
            with BuildLine():
                Line((-40.071167272, -7.979459856), (-20.898643838, -5.455349261))
                ThreePointArc((-20.898643838, -5.455349261), (-22.095637401, -1.578420611), (-21.942853375, 2.47620963))
                Line((-21.942853375, 2.47620963), (-41.11537681, -0.047900965))
                ThreePointArc((-41.11537681, -0.047900965), (-44.592679619, -4.082521016), (-40.978584416, -7.995078956))
                ThreePointArc((-40.978584416, -7.995078956), (-40.524431436, -8.013087988), (-40.071167272, -7.979459856))
            make_face()
            with Locations((-40.593272041, -4.013680411)):
                Circle(SKETCH6_3_R, mode=Mode.SUBTRACT)
        extrude(amount=CUT_EXTRUDE3_DEPTH, mode=Mode.SUBTRACT)


solid = part.part
